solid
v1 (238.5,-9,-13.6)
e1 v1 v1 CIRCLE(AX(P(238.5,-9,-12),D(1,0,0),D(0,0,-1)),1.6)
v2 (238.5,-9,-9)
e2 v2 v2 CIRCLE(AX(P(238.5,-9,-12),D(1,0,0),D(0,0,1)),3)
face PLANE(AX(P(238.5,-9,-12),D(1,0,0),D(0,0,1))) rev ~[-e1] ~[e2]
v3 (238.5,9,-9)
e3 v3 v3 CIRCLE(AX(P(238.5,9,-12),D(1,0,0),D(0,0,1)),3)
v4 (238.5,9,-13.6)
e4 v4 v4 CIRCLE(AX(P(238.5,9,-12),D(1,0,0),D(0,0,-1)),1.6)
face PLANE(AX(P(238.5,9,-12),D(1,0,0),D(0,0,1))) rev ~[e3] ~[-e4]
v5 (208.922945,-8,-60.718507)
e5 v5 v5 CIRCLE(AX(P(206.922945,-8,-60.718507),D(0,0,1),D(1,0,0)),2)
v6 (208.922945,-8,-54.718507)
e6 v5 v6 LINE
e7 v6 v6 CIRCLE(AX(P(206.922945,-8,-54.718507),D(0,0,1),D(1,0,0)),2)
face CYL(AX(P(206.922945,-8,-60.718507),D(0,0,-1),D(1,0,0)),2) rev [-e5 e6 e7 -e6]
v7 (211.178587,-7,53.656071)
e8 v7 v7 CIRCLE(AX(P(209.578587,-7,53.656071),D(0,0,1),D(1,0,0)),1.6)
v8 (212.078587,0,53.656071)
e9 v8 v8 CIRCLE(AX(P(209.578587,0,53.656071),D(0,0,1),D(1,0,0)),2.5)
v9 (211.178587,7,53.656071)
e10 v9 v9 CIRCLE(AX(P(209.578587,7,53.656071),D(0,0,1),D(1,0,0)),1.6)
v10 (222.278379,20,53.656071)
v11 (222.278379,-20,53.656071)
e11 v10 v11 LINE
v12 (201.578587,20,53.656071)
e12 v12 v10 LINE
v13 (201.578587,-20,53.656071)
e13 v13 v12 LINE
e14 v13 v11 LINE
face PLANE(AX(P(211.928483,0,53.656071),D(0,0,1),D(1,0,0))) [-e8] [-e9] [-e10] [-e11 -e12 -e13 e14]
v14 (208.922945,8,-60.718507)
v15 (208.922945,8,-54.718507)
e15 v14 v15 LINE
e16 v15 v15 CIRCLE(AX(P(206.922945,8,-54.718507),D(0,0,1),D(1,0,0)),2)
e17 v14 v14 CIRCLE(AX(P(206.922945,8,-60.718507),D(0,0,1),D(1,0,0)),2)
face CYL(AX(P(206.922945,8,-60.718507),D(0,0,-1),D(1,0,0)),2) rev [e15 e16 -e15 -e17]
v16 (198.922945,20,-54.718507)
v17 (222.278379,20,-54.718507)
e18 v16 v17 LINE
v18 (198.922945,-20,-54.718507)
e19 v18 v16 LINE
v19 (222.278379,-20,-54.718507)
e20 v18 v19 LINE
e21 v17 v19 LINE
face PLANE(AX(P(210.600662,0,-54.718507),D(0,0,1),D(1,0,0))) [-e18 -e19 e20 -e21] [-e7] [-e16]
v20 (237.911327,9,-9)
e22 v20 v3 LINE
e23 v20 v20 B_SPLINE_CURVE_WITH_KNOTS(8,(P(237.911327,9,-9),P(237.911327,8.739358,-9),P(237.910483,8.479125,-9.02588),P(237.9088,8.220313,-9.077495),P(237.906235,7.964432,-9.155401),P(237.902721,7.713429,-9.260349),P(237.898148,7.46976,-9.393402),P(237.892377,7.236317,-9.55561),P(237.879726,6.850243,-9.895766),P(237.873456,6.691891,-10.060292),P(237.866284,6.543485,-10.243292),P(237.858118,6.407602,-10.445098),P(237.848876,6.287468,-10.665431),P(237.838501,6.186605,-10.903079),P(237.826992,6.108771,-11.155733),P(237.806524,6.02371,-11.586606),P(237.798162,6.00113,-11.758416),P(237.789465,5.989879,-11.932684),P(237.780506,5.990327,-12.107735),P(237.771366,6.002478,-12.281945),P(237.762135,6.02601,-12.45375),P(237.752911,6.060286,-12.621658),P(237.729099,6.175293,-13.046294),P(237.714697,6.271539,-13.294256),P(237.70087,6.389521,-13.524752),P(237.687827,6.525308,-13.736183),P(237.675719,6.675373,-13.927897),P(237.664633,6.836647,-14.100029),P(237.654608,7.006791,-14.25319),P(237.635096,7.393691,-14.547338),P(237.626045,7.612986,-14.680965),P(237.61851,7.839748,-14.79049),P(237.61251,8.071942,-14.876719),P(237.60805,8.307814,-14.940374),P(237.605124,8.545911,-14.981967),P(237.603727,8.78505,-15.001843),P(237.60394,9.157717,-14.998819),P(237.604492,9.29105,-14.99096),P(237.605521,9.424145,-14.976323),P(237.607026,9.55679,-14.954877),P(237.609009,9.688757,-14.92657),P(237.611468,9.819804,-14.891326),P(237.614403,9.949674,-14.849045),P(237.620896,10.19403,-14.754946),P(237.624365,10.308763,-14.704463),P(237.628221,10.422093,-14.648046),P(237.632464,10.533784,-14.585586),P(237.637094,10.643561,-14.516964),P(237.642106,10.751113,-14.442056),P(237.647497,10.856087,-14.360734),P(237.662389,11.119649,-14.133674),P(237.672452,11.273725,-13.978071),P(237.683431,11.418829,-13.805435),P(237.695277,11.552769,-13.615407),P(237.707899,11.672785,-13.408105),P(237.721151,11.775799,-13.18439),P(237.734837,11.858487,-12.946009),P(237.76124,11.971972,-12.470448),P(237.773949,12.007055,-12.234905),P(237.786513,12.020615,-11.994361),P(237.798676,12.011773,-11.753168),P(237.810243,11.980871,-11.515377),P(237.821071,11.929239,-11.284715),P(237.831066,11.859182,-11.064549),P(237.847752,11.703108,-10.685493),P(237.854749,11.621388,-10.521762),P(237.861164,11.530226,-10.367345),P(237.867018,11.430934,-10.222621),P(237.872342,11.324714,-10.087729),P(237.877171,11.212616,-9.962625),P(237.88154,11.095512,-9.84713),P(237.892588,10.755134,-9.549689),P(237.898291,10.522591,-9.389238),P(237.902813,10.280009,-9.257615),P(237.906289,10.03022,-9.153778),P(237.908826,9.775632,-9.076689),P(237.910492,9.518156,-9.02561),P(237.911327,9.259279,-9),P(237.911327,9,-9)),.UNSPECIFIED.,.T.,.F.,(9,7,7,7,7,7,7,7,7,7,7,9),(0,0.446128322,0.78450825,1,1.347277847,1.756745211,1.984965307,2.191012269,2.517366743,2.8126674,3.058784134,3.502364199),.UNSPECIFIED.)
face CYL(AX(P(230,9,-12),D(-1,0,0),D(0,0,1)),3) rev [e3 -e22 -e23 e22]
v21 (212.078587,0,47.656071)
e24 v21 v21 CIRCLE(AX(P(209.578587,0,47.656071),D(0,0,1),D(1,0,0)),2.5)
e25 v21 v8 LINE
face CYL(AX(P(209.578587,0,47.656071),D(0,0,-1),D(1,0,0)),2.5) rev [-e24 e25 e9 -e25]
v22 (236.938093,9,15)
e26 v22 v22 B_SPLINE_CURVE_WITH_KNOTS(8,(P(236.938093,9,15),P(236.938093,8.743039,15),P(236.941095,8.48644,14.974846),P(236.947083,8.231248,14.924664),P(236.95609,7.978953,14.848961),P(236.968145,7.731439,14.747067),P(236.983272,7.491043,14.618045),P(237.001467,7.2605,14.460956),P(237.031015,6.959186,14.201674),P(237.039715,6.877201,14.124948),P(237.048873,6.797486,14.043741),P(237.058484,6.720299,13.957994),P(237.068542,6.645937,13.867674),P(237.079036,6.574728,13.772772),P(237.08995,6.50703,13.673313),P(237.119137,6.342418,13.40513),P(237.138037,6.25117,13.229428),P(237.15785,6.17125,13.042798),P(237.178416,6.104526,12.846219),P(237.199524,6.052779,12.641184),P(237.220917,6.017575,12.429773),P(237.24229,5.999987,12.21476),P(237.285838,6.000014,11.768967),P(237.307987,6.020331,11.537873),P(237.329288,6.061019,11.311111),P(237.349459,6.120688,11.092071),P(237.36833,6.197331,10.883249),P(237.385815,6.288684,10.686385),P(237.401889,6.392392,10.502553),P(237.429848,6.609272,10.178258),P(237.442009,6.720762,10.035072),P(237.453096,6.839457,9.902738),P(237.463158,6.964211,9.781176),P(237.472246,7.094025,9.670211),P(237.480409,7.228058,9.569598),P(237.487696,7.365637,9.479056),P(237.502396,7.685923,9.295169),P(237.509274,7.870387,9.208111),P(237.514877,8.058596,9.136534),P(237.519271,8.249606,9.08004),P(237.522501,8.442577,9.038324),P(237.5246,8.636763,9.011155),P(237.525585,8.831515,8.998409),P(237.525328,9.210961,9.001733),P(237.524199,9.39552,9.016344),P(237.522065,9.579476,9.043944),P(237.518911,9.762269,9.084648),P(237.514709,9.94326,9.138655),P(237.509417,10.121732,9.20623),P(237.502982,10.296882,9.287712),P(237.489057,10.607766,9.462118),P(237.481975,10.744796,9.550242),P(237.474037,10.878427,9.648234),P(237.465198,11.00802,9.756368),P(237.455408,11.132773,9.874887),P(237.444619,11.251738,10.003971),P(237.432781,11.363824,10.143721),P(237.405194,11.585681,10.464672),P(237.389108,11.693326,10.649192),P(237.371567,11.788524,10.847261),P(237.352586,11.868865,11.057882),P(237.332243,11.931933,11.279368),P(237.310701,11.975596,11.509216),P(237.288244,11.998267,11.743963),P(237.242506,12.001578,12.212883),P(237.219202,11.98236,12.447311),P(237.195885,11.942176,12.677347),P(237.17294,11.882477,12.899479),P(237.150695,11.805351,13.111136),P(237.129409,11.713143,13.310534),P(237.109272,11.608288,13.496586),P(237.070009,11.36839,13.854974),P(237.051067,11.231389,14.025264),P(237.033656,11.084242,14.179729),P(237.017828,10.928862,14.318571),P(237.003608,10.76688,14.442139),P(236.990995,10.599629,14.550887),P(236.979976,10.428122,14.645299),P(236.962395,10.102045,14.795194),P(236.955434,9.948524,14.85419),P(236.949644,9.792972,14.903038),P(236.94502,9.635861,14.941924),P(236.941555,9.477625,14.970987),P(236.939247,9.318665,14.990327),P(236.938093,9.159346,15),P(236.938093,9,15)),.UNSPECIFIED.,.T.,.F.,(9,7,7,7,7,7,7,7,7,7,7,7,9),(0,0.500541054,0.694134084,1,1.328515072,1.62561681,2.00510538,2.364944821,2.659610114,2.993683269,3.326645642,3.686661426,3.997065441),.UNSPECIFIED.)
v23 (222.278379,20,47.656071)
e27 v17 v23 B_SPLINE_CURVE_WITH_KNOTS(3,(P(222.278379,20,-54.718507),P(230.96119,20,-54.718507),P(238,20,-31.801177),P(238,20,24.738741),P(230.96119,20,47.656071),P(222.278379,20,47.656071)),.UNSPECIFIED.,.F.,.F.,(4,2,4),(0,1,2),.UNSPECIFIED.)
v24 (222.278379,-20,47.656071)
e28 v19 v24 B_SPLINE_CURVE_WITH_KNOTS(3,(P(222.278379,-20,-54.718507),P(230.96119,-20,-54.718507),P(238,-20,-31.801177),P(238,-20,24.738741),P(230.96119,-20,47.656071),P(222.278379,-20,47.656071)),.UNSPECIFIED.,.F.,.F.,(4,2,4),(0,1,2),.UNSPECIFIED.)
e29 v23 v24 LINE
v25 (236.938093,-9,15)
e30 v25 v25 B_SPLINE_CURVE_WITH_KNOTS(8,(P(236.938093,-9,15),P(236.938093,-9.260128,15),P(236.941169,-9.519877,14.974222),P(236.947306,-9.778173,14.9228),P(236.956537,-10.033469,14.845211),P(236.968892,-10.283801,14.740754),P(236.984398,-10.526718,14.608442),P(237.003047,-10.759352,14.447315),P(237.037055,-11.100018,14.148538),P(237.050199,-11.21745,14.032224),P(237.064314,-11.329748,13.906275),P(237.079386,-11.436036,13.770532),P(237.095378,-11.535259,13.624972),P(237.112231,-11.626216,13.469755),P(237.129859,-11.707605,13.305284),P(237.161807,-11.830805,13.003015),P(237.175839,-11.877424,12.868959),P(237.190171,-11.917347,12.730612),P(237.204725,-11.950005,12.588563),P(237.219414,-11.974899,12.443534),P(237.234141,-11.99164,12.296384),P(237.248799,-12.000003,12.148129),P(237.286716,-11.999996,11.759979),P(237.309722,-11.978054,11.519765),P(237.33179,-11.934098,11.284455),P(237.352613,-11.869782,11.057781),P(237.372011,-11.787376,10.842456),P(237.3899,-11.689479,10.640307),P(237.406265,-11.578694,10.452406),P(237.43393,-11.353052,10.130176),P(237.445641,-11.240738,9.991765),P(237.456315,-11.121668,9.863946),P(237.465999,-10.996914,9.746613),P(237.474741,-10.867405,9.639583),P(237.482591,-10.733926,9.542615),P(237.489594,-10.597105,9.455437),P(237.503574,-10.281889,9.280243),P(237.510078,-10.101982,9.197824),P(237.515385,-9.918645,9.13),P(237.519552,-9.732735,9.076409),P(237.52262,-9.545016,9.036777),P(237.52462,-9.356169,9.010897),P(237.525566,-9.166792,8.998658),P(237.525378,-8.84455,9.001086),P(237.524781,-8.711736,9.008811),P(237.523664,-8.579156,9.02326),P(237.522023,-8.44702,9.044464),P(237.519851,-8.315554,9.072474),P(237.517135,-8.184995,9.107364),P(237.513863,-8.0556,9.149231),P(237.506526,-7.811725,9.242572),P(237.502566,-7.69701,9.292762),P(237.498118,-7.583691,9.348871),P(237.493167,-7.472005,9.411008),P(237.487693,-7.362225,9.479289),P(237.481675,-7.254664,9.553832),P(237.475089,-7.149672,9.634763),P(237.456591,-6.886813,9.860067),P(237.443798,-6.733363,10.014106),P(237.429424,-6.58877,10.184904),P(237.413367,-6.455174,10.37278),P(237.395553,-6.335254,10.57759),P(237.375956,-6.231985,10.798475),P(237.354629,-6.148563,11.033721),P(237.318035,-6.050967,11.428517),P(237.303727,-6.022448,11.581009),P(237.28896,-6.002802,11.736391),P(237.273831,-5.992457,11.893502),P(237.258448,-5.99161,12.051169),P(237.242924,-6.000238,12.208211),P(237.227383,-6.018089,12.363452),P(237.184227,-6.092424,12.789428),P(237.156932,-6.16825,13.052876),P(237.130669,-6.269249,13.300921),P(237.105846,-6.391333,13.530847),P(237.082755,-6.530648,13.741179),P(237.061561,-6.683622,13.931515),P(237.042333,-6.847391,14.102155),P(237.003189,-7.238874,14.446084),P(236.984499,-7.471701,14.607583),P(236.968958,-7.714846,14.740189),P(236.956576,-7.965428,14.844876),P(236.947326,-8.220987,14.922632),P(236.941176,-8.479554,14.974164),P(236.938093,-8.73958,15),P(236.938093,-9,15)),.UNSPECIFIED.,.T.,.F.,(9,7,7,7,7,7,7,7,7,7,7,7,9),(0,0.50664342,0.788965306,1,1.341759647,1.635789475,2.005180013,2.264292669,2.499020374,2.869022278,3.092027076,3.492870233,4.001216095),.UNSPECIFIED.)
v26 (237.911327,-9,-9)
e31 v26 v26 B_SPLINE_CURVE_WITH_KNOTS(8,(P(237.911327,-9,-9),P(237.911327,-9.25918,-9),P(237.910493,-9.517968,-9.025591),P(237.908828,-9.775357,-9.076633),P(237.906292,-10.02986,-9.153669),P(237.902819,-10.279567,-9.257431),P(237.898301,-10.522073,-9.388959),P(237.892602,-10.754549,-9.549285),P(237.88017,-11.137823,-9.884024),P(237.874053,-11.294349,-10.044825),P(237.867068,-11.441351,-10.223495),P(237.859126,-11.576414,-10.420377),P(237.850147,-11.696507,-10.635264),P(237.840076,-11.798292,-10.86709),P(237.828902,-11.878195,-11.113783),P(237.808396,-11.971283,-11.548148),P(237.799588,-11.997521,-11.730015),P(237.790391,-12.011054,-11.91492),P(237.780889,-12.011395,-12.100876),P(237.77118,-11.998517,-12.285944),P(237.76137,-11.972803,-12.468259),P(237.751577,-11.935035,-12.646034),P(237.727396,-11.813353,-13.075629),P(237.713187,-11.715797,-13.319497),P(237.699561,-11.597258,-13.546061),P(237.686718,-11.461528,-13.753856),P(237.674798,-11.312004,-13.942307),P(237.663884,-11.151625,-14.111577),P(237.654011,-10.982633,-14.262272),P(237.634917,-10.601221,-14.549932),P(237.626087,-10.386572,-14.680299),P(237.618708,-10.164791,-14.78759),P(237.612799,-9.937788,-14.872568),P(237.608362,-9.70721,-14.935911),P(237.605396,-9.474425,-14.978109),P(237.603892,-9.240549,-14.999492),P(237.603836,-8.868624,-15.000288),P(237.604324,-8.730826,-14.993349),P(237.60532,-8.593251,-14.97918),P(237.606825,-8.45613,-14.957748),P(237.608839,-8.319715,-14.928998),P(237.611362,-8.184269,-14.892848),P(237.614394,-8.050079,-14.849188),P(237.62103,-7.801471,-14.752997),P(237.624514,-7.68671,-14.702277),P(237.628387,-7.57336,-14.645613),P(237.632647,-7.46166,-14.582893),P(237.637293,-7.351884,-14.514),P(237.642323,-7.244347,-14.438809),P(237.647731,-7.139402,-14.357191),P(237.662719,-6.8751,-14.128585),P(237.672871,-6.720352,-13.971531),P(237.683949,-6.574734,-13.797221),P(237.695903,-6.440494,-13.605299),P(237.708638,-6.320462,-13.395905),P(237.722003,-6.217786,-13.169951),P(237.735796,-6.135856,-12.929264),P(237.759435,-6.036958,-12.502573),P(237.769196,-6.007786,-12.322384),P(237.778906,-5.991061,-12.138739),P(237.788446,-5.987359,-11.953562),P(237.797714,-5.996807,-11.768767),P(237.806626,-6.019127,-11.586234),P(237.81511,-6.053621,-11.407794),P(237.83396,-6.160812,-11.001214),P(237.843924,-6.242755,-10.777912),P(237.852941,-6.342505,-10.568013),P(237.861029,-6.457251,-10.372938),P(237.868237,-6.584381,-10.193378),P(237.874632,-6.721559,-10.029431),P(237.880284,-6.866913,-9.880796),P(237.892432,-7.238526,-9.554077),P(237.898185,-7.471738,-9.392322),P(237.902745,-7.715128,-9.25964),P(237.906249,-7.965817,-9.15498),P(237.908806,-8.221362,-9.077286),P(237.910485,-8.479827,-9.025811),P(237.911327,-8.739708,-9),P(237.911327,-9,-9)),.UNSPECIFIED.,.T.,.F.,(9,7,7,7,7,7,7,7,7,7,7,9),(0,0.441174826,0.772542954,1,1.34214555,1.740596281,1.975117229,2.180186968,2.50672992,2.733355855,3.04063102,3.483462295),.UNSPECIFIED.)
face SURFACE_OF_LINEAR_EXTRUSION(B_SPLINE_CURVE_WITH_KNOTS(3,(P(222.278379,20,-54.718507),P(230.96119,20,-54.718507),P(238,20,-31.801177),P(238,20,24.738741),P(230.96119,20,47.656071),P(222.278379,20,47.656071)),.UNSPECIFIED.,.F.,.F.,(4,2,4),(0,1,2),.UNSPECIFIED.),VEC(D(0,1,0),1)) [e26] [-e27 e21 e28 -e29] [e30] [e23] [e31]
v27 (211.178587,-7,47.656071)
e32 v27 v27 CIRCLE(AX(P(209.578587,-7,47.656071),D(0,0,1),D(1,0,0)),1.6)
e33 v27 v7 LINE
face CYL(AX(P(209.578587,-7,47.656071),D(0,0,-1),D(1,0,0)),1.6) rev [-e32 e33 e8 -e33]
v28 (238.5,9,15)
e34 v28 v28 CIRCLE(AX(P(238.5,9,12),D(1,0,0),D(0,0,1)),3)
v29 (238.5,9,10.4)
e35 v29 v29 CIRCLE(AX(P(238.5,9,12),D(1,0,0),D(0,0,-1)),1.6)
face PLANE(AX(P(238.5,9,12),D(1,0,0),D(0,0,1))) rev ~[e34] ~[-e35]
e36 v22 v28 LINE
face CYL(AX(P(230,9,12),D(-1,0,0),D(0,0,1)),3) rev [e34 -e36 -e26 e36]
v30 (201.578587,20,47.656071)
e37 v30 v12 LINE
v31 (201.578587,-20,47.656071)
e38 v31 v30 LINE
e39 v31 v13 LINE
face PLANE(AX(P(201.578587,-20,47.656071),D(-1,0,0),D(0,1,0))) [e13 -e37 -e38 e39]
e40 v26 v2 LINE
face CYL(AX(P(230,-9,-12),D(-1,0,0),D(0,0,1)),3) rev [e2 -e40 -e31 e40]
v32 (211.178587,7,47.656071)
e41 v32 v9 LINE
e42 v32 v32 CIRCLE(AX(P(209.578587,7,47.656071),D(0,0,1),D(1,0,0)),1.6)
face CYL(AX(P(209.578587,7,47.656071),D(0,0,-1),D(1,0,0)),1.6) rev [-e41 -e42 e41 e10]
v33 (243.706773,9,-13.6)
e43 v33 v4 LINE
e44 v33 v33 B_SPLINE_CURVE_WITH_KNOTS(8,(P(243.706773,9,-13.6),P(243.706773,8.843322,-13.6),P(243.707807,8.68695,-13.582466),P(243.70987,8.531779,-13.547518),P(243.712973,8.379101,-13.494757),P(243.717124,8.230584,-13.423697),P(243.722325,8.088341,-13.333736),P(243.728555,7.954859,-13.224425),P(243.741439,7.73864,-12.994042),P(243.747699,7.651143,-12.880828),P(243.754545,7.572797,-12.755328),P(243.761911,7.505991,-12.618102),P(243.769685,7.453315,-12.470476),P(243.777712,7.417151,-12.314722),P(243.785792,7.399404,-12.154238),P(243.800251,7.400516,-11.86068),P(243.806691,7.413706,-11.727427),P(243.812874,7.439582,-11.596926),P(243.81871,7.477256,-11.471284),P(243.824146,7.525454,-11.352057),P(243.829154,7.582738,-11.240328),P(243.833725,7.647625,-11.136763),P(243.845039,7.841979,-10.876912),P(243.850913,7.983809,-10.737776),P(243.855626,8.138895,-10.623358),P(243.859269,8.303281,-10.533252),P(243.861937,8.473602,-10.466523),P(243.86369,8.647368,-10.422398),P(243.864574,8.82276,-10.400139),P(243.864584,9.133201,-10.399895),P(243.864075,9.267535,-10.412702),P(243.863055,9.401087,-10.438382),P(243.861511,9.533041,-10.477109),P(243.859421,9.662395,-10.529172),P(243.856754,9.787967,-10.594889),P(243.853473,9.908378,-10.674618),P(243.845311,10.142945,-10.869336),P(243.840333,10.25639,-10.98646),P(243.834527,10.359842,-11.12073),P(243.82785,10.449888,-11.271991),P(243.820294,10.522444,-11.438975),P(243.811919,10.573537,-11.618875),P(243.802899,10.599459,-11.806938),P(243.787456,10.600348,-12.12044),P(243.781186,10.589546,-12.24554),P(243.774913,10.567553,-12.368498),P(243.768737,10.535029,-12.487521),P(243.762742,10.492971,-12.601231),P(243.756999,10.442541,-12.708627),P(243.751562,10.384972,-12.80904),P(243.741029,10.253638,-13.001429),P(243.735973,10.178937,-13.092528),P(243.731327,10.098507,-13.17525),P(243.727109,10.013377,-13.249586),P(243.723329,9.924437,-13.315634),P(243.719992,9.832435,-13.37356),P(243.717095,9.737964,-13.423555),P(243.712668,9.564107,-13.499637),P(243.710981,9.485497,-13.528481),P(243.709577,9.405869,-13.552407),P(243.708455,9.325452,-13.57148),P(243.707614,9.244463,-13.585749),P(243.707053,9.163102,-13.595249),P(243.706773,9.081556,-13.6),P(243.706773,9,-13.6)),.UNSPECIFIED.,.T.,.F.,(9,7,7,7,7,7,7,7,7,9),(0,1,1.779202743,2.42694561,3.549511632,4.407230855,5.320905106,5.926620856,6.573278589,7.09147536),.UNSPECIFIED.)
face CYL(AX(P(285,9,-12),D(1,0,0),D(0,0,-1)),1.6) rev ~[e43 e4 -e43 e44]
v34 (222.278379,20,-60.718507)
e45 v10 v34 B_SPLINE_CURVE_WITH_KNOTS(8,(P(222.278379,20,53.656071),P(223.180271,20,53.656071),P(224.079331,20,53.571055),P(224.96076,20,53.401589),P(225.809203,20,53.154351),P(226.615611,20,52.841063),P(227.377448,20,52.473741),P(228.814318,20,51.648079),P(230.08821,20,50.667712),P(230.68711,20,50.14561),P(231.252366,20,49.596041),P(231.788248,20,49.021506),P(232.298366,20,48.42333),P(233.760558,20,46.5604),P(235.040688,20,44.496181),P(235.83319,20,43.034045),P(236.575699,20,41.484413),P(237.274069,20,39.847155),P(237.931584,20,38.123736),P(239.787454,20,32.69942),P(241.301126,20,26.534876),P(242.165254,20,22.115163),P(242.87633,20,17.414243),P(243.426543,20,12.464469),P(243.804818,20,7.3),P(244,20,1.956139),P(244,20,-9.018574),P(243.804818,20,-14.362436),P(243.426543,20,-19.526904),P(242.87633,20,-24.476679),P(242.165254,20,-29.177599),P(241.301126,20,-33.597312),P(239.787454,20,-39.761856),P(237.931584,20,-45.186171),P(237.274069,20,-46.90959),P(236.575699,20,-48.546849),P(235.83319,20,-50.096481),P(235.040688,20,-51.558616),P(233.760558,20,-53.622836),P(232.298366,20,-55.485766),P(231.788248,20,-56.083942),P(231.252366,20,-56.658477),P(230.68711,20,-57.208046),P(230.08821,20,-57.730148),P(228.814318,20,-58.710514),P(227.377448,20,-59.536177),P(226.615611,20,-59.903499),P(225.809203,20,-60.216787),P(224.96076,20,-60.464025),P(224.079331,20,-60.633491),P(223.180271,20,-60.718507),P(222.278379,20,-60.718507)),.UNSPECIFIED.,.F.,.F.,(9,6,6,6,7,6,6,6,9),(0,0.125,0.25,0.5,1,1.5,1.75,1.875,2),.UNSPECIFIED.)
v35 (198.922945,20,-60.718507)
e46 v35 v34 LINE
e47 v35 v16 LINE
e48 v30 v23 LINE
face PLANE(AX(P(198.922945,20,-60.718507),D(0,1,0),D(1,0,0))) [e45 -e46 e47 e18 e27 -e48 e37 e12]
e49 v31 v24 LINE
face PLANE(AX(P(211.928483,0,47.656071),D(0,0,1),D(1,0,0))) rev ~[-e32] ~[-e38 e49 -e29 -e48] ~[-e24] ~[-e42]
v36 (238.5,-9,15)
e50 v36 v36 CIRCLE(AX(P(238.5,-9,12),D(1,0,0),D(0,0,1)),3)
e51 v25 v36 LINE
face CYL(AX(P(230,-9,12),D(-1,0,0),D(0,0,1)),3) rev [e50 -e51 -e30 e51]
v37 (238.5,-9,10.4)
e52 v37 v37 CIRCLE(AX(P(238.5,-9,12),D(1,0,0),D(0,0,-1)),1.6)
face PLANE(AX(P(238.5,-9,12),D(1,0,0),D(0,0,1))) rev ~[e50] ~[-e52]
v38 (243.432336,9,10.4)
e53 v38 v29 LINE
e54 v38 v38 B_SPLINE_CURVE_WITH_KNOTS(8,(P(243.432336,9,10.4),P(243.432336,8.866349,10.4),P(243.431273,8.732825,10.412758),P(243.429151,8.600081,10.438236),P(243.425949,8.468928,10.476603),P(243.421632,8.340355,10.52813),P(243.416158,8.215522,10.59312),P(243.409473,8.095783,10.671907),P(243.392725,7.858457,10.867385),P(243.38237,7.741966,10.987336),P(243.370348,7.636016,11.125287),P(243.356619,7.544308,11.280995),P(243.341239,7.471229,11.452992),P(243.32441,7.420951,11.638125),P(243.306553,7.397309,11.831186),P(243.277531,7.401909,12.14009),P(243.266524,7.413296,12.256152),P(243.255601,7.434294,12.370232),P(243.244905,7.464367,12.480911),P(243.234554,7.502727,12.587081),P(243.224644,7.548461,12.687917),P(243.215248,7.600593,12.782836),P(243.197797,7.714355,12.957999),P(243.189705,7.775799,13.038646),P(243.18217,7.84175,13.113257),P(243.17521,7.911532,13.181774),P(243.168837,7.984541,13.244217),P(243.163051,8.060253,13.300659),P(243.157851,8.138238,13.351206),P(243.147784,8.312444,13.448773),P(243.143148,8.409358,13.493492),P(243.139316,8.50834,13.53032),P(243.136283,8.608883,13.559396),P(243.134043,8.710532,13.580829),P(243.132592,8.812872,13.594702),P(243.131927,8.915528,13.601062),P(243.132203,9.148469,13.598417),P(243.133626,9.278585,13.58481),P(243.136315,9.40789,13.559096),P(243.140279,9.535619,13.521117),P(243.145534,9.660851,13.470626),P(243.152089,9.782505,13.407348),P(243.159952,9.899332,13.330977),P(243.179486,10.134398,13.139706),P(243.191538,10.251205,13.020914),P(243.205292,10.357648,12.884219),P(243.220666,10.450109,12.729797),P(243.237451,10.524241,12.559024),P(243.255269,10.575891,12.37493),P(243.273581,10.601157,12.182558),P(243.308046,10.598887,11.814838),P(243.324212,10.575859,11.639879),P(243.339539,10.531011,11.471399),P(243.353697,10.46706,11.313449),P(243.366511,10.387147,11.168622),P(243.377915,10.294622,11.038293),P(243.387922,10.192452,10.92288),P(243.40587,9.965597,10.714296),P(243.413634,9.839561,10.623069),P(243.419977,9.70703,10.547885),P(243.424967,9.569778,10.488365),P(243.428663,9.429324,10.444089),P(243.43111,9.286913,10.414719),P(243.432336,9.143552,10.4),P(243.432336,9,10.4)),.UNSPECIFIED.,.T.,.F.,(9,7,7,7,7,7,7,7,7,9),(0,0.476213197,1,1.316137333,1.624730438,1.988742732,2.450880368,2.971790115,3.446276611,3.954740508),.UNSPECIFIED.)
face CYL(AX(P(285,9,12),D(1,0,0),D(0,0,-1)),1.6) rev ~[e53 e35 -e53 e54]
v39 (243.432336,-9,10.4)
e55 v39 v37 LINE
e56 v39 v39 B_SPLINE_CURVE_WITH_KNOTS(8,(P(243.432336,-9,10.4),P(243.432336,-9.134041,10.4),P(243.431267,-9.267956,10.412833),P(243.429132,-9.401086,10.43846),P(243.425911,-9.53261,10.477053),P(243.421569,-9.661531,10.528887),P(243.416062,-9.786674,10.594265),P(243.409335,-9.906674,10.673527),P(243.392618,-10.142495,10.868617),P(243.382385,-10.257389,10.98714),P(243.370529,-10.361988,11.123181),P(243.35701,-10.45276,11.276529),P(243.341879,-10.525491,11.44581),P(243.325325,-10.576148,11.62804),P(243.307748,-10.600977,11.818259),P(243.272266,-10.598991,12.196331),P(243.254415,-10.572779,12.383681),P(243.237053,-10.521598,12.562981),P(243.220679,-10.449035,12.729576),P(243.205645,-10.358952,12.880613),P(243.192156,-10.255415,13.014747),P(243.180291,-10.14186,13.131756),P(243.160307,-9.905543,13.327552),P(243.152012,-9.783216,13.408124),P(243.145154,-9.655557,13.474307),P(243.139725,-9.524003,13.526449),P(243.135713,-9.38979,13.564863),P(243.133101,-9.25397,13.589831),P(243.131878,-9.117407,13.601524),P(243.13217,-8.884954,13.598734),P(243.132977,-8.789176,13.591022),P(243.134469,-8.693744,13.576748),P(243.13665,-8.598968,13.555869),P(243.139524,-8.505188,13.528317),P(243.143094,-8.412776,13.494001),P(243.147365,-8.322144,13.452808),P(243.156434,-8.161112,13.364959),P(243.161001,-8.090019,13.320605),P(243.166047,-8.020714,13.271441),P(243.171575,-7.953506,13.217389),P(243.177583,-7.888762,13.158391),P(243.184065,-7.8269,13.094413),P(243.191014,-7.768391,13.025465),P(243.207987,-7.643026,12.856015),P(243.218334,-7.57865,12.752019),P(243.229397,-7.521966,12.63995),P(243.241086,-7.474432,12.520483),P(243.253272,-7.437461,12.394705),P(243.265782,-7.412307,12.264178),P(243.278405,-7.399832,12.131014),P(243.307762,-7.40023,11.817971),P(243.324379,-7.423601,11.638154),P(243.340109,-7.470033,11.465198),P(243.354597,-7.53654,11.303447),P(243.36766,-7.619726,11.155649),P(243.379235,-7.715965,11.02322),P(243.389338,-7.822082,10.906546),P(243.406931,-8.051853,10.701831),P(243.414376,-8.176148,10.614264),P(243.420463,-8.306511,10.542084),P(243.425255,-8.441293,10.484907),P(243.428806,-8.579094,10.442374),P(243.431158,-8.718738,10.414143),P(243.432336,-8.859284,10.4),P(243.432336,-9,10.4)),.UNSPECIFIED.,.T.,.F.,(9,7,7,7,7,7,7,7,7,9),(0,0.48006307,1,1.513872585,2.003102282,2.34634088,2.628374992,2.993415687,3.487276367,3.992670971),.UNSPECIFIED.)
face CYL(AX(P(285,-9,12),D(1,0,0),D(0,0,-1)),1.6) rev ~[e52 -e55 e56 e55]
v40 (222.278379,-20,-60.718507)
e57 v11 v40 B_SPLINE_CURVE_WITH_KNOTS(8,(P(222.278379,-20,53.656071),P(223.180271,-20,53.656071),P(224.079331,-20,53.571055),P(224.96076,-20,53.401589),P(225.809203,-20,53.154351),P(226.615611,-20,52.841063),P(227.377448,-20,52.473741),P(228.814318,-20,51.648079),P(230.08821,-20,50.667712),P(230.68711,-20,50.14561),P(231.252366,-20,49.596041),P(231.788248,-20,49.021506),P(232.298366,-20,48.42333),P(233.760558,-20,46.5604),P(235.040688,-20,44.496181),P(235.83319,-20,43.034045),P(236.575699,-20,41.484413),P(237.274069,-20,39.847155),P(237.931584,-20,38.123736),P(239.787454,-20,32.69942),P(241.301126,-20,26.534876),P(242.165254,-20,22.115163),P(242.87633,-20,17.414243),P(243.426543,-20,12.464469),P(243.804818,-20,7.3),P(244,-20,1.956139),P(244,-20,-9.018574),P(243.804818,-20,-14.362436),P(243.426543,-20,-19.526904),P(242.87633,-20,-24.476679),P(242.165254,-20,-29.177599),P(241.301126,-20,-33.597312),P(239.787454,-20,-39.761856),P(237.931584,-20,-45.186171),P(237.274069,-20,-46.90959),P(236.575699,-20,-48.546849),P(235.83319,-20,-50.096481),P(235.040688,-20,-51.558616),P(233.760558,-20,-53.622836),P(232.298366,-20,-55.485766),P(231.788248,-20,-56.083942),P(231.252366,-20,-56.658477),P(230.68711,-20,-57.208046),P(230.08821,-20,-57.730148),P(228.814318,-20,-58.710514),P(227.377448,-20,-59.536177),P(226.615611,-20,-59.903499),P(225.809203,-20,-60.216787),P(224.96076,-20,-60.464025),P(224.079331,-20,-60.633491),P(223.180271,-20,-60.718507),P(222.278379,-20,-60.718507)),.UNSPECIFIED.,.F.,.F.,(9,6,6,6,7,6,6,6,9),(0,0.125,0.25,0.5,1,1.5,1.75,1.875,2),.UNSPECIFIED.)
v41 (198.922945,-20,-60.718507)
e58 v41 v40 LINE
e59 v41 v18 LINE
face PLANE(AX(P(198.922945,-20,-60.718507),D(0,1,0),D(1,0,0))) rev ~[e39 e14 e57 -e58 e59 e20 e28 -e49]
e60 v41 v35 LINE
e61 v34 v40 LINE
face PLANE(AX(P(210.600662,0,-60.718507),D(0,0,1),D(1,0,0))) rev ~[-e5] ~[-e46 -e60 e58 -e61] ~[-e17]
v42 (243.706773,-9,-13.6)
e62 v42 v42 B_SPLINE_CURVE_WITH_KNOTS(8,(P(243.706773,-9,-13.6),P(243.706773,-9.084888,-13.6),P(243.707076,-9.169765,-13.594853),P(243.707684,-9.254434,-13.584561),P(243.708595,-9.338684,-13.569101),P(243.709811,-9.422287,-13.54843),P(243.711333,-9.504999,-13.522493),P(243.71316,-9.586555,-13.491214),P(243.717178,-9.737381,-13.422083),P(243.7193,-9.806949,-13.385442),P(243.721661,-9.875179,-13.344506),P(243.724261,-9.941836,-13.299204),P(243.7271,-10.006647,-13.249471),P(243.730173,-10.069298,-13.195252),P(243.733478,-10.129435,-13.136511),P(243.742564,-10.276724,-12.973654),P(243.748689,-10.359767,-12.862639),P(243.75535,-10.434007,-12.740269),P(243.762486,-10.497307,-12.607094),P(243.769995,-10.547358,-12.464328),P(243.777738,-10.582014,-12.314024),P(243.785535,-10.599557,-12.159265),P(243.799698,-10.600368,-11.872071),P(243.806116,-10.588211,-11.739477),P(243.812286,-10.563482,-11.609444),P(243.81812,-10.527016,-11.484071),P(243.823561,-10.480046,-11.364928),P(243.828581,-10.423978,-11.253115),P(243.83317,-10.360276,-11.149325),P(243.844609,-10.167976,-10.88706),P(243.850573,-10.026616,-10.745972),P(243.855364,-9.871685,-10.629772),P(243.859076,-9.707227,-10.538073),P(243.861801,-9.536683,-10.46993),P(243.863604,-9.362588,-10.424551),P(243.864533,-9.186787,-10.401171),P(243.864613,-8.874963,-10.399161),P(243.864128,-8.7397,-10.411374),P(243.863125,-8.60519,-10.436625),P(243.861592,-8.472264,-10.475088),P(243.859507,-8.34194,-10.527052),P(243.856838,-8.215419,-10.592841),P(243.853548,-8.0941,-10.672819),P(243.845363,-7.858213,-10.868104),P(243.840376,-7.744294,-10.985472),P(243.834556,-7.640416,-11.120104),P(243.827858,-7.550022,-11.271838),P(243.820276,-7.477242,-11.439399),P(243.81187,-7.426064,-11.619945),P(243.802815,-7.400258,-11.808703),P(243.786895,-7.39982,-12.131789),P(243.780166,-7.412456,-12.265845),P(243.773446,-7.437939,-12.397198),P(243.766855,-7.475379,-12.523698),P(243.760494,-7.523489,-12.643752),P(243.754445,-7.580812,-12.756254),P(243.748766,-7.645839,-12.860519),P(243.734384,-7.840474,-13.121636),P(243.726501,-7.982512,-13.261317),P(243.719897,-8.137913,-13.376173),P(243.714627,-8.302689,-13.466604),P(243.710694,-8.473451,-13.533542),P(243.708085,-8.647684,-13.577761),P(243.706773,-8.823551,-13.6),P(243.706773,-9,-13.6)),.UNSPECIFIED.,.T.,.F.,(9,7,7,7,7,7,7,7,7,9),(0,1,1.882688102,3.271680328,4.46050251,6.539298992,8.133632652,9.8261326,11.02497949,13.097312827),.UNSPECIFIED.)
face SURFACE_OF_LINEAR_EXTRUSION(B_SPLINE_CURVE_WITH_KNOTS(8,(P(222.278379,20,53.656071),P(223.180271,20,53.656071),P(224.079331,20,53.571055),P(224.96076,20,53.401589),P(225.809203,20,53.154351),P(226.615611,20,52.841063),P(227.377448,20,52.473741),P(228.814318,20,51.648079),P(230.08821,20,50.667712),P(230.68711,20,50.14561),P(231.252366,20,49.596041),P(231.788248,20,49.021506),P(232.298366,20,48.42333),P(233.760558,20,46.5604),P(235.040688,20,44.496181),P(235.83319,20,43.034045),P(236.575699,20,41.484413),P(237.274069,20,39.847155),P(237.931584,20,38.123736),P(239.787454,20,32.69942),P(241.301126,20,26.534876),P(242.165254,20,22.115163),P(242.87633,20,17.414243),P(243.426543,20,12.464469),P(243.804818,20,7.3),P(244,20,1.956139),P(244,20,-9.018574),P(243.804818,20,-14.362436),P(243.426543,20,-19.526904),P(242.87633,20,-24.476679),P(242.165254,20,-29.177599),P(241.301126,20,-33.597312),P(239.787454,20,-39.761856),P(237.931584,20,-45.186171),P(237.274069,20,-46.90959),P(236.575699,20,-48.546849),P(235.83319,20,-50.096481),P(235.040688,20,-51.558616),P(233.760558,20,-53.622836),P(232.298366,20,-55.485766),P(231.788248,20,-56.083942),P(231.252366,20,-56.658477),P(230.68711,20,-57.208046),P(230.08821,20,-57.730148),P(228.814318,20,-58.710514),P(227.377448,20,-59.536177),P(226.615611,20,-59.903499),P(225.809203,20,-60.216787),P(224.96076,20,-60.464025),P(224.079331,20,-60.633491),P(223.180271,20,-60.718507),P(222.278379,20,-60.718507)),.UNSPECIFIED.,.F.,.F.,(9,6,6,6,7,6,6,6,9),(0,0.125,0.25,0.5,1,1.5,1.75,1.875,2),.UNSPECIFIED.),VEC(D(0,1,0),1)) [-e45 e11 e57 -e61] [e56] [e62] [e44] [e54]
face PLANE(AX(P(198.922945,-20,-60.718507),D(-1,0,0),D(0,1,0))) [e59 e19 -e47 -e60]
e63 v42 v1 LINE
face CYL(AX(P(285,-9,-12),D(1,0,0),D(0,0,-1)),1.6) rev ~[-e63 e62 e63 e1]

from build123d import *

# Parameters (mm, degrees)
EXTRUDE_1_DEPTH     = 40
SKETCH_2_W          = 20.699792116
SKETCH_2_H          = 40
EXTRUDE_2_DEPTH     = 6
SKETCH_3_W          = 23.355434
SKETCH_3_H          = 40
EXTRUDE_3_DEPTH     = 6
SKETCH_4_R          = 1.6
SKETCH_4_R_2        = 2.5
CUT_EXTRUDE_1_DEPTH = 6
SKETCH_5_R          = 2
CUT_EXTRUDE_2_DEPTH = 6
SKETCH_6_R          = 1.6
CUT_EXTRUDE_3_DEPTH = 50
SKETCH_7_R          = 3
CUT_EXTRUDE_4_DEPTH = 8.5


with BuildPart() as part:
    # 草图1 → 凸台-拉伸1 (new body)
    with BuildSketch(Plane(origin=(0, 20, 0), x_dir=(-1, 0, 0), z_dir=(0, -1, 0))):
        with BuildLine():
            Line((-222.278378746, 60.718506671), (-222.278378746, 54.718506671))
            add(Edge.make_bspline(
                [(-222.278378746, 54.718506671), (-230.961190407, 54.718506671), (-238, 31.801176865), (-238, 3.53121788)],
                knots=[0, 0, 0, 0, 1, 1, 1, 1], degree=3))
            add(Edge.make_bspline(
                [(-238, 3.53121788), (-238, -24.738741104), (-230.961190407, -47.656070911), (-222.278378746, -47.656070911)],
                knots=[0, 0, 0, 0, 1, 1, 1, 1], degree=3))
            Line((-222.278378746, -47.656070911), (-222.278378746, -53.656070911))
            add(Edge.make_bspline(
                [(-222.278378746, -53.656070911), (-223.180271244, -53.656070911), (-224.07933128, -53.571054967), (-224.960759777, -53.401588789), (-225.809203297, -53.154351153), (-226.615610963, -52.841063111), (-227.377447744, -52.473741453), (-228.814318367, -51.648078689), (-230.088209946, -50.667712485), (-230.687109525, -50.145609931), (-231.252366306, -49.596041043), (-231.788248358, -49.021505836), (-232.298365535, -48.423329927), (-233.760558431, -46.560400285), (-235.040687912, -44.496180714), (-235.833189955, -43.034044994), (-236.575699117, -41.484412798), (-237.274068793, -39.847154711), (-237.931584122, -38.12373571), (-239.787454092, -32.699420286), (-241.30112649, -26.534876341), (-242.165253789, -22.115163123), (-242.876330308, -17.414243288), (-243.426543113, -12.464468584), (-243.804818267, -7.299999889), (-244, -1.956138547), (-244, 3.53121788)],
                knots=[0, 0, 0, 0, 0, 0, 0, 0, 0, 0.125, 0.125, 0.125, 0.125, 0.125, 0.125, 0.25, 0.25, 0.25, 0.25, 0.25, 0.25, 0.5, 0.5, 0.5, 0.5, 0.5, 0.5, 1, 1, 1, 1, 1, 1, 1, 1, 1], degree=8))
            add(Edge.make_bspline(
                [(-244, 3.53121788), (-244, 9.018574307), (-243.804818267, 14.362435649), (-243.426543113, 19.526904345), (-242.876330308, 24.476679049), (-242.165253789, 29.177598883), (-241.30112649, 33.597312101), (-239.787454092, 39.761856046), (-237.931584122, 45.186171471), (-237.274068793, 46.909590472), (-236.575699117, 48.546848558), (-235.833189955, 50.096480754), (-235.040687912, 51.558616474), (-233.760558431, 53.622836045), (-232.298365535, 55.485765688), (-231.788248358, 56.083941596), (-231.252366306, 56.658476803), (-230.687109525, 57.208045691), (-230.088209946, 57.730148246), (-228.814318367, 58.710514449), (-227.377447744, 59.536177213), (-226.615610963, 59.903498872), (-225.809203297, 60.216786914), (-224.960759777, 60.464024549), (-224.07933128, 60.633490728), (-223.180271244, 60.718506671), (-222.278378746, 60.718506671)],
                knots=[0, 0, 0, 0, 0, 0, 0, 0, 0, 0.5, 0.5, 0.5, 0.5, 0.5, 0.5, 0.75, 0.75, 0.75, 0.75, 0.75, 0.75, 0.875, 0.875, 0.875, 0.875, 0.875, 0.875, 1, 1, 1, 1, 1, 1, 1, 1, 1], degree=8))
        make_face()
    extrude(amount=EXTRUDE_1_DEPTH)

    # 草图2 → 凸台-拉伸2 (add)
    with BuildSketch(Plane.XY.offset(47.656070911)):
        with Locations((211.928482688, 0)):
            Rectangle(SKETCH_2_W, SKETCH_2_H)
    extrude(amount=EXTRUDE_2_DEPTH)

    # 草图3 → 凸台-拉伸3 (add)
    with BuildSketch(Plane.XY.offset(-60.718506671)):
        with Locations((210.600661746, 0)):
            Rectangle(SKETCH_3_W, SKETCH_3_H)
    extrude(amount=EXTRUDE_3_DEPTH)

    # 草图4 → 切除-拉伸1 (cut)
    with BuildSketch(Plane.XY.offset(47.656070911)):
        with Locations((209.57858663, -7)):
            Circle(SKETCH_4_R)
        with Locations((209.57858663, 7)):
            Circle(SKETCH_4_R)
        with Locations((209.57858663, 0)):
            Circle(SKETCH_4_R_2)
    extrude(amount=CUT_EXTRUDE_1_DEPTH, mode=Mode.SUBTRACT)

    # 草图5 → 切除-拉伸2 (cut)
    with BuildSketch(Plane.XY.offset(-60.718506671)):
        with Locations((206.922944746, -8)):
            Circle(SKETCH_5_R)
        with Locations((206.922944746, 8)):
            Circle(SKETCH_5_R)
    extrude(amount=CUT_EXTRUDE_2_DEPTH, mode=Mode.SUBTRACT)

    # 草图6 → 切除-拉伸3 (cut)
    with BuildSketch(Plane(origin=(285, 0, 0), x_dir=(0, 0, -1), z_dir=(1, 0, 0))):
        with Locations((12, -9)):
            Circle(SKETCH_6_R)
        with Locations((-12, -9)):
            Circle(SKETCH_6_R)
        with Locations((12, 9)):
            Circle(SKETCH_6_R)
        with Locations((-12, 9)):
            Circle(SKETCH_6_R)
    extrude(amount=-CUT_EXTRUDE_3_DEPTH, mode=Mode.SUBTRACT)

    # 草图7 → 切除-拉伸4 (cut)
    with BuildSketch(Plane(origin=(230, 0, 0), x_dir=(0, 0, -1), z_dir=(1, 0, 0))):
        with Locations(Location((12, -9, 0), (0, 0, 180))):
            Circle(SKETCH_7_R)
        with Locations(Location((-12, -9, 0), (0, 0, 180))):
            Circle(SKETCH_7_R)
        with Locations(Location((12, 9, 0), (0, 0, 180))):
            Circle(SKETCH_7_R)
        with Locations(Location((-12, 9, 0), (0, 0, 180))):
            Circle(SKETCH_7_R)
    extrude(amount=CUT_EXTRUDE_4_DEPTH, mode=Mode.SUBTRACT)


solid = part.part
